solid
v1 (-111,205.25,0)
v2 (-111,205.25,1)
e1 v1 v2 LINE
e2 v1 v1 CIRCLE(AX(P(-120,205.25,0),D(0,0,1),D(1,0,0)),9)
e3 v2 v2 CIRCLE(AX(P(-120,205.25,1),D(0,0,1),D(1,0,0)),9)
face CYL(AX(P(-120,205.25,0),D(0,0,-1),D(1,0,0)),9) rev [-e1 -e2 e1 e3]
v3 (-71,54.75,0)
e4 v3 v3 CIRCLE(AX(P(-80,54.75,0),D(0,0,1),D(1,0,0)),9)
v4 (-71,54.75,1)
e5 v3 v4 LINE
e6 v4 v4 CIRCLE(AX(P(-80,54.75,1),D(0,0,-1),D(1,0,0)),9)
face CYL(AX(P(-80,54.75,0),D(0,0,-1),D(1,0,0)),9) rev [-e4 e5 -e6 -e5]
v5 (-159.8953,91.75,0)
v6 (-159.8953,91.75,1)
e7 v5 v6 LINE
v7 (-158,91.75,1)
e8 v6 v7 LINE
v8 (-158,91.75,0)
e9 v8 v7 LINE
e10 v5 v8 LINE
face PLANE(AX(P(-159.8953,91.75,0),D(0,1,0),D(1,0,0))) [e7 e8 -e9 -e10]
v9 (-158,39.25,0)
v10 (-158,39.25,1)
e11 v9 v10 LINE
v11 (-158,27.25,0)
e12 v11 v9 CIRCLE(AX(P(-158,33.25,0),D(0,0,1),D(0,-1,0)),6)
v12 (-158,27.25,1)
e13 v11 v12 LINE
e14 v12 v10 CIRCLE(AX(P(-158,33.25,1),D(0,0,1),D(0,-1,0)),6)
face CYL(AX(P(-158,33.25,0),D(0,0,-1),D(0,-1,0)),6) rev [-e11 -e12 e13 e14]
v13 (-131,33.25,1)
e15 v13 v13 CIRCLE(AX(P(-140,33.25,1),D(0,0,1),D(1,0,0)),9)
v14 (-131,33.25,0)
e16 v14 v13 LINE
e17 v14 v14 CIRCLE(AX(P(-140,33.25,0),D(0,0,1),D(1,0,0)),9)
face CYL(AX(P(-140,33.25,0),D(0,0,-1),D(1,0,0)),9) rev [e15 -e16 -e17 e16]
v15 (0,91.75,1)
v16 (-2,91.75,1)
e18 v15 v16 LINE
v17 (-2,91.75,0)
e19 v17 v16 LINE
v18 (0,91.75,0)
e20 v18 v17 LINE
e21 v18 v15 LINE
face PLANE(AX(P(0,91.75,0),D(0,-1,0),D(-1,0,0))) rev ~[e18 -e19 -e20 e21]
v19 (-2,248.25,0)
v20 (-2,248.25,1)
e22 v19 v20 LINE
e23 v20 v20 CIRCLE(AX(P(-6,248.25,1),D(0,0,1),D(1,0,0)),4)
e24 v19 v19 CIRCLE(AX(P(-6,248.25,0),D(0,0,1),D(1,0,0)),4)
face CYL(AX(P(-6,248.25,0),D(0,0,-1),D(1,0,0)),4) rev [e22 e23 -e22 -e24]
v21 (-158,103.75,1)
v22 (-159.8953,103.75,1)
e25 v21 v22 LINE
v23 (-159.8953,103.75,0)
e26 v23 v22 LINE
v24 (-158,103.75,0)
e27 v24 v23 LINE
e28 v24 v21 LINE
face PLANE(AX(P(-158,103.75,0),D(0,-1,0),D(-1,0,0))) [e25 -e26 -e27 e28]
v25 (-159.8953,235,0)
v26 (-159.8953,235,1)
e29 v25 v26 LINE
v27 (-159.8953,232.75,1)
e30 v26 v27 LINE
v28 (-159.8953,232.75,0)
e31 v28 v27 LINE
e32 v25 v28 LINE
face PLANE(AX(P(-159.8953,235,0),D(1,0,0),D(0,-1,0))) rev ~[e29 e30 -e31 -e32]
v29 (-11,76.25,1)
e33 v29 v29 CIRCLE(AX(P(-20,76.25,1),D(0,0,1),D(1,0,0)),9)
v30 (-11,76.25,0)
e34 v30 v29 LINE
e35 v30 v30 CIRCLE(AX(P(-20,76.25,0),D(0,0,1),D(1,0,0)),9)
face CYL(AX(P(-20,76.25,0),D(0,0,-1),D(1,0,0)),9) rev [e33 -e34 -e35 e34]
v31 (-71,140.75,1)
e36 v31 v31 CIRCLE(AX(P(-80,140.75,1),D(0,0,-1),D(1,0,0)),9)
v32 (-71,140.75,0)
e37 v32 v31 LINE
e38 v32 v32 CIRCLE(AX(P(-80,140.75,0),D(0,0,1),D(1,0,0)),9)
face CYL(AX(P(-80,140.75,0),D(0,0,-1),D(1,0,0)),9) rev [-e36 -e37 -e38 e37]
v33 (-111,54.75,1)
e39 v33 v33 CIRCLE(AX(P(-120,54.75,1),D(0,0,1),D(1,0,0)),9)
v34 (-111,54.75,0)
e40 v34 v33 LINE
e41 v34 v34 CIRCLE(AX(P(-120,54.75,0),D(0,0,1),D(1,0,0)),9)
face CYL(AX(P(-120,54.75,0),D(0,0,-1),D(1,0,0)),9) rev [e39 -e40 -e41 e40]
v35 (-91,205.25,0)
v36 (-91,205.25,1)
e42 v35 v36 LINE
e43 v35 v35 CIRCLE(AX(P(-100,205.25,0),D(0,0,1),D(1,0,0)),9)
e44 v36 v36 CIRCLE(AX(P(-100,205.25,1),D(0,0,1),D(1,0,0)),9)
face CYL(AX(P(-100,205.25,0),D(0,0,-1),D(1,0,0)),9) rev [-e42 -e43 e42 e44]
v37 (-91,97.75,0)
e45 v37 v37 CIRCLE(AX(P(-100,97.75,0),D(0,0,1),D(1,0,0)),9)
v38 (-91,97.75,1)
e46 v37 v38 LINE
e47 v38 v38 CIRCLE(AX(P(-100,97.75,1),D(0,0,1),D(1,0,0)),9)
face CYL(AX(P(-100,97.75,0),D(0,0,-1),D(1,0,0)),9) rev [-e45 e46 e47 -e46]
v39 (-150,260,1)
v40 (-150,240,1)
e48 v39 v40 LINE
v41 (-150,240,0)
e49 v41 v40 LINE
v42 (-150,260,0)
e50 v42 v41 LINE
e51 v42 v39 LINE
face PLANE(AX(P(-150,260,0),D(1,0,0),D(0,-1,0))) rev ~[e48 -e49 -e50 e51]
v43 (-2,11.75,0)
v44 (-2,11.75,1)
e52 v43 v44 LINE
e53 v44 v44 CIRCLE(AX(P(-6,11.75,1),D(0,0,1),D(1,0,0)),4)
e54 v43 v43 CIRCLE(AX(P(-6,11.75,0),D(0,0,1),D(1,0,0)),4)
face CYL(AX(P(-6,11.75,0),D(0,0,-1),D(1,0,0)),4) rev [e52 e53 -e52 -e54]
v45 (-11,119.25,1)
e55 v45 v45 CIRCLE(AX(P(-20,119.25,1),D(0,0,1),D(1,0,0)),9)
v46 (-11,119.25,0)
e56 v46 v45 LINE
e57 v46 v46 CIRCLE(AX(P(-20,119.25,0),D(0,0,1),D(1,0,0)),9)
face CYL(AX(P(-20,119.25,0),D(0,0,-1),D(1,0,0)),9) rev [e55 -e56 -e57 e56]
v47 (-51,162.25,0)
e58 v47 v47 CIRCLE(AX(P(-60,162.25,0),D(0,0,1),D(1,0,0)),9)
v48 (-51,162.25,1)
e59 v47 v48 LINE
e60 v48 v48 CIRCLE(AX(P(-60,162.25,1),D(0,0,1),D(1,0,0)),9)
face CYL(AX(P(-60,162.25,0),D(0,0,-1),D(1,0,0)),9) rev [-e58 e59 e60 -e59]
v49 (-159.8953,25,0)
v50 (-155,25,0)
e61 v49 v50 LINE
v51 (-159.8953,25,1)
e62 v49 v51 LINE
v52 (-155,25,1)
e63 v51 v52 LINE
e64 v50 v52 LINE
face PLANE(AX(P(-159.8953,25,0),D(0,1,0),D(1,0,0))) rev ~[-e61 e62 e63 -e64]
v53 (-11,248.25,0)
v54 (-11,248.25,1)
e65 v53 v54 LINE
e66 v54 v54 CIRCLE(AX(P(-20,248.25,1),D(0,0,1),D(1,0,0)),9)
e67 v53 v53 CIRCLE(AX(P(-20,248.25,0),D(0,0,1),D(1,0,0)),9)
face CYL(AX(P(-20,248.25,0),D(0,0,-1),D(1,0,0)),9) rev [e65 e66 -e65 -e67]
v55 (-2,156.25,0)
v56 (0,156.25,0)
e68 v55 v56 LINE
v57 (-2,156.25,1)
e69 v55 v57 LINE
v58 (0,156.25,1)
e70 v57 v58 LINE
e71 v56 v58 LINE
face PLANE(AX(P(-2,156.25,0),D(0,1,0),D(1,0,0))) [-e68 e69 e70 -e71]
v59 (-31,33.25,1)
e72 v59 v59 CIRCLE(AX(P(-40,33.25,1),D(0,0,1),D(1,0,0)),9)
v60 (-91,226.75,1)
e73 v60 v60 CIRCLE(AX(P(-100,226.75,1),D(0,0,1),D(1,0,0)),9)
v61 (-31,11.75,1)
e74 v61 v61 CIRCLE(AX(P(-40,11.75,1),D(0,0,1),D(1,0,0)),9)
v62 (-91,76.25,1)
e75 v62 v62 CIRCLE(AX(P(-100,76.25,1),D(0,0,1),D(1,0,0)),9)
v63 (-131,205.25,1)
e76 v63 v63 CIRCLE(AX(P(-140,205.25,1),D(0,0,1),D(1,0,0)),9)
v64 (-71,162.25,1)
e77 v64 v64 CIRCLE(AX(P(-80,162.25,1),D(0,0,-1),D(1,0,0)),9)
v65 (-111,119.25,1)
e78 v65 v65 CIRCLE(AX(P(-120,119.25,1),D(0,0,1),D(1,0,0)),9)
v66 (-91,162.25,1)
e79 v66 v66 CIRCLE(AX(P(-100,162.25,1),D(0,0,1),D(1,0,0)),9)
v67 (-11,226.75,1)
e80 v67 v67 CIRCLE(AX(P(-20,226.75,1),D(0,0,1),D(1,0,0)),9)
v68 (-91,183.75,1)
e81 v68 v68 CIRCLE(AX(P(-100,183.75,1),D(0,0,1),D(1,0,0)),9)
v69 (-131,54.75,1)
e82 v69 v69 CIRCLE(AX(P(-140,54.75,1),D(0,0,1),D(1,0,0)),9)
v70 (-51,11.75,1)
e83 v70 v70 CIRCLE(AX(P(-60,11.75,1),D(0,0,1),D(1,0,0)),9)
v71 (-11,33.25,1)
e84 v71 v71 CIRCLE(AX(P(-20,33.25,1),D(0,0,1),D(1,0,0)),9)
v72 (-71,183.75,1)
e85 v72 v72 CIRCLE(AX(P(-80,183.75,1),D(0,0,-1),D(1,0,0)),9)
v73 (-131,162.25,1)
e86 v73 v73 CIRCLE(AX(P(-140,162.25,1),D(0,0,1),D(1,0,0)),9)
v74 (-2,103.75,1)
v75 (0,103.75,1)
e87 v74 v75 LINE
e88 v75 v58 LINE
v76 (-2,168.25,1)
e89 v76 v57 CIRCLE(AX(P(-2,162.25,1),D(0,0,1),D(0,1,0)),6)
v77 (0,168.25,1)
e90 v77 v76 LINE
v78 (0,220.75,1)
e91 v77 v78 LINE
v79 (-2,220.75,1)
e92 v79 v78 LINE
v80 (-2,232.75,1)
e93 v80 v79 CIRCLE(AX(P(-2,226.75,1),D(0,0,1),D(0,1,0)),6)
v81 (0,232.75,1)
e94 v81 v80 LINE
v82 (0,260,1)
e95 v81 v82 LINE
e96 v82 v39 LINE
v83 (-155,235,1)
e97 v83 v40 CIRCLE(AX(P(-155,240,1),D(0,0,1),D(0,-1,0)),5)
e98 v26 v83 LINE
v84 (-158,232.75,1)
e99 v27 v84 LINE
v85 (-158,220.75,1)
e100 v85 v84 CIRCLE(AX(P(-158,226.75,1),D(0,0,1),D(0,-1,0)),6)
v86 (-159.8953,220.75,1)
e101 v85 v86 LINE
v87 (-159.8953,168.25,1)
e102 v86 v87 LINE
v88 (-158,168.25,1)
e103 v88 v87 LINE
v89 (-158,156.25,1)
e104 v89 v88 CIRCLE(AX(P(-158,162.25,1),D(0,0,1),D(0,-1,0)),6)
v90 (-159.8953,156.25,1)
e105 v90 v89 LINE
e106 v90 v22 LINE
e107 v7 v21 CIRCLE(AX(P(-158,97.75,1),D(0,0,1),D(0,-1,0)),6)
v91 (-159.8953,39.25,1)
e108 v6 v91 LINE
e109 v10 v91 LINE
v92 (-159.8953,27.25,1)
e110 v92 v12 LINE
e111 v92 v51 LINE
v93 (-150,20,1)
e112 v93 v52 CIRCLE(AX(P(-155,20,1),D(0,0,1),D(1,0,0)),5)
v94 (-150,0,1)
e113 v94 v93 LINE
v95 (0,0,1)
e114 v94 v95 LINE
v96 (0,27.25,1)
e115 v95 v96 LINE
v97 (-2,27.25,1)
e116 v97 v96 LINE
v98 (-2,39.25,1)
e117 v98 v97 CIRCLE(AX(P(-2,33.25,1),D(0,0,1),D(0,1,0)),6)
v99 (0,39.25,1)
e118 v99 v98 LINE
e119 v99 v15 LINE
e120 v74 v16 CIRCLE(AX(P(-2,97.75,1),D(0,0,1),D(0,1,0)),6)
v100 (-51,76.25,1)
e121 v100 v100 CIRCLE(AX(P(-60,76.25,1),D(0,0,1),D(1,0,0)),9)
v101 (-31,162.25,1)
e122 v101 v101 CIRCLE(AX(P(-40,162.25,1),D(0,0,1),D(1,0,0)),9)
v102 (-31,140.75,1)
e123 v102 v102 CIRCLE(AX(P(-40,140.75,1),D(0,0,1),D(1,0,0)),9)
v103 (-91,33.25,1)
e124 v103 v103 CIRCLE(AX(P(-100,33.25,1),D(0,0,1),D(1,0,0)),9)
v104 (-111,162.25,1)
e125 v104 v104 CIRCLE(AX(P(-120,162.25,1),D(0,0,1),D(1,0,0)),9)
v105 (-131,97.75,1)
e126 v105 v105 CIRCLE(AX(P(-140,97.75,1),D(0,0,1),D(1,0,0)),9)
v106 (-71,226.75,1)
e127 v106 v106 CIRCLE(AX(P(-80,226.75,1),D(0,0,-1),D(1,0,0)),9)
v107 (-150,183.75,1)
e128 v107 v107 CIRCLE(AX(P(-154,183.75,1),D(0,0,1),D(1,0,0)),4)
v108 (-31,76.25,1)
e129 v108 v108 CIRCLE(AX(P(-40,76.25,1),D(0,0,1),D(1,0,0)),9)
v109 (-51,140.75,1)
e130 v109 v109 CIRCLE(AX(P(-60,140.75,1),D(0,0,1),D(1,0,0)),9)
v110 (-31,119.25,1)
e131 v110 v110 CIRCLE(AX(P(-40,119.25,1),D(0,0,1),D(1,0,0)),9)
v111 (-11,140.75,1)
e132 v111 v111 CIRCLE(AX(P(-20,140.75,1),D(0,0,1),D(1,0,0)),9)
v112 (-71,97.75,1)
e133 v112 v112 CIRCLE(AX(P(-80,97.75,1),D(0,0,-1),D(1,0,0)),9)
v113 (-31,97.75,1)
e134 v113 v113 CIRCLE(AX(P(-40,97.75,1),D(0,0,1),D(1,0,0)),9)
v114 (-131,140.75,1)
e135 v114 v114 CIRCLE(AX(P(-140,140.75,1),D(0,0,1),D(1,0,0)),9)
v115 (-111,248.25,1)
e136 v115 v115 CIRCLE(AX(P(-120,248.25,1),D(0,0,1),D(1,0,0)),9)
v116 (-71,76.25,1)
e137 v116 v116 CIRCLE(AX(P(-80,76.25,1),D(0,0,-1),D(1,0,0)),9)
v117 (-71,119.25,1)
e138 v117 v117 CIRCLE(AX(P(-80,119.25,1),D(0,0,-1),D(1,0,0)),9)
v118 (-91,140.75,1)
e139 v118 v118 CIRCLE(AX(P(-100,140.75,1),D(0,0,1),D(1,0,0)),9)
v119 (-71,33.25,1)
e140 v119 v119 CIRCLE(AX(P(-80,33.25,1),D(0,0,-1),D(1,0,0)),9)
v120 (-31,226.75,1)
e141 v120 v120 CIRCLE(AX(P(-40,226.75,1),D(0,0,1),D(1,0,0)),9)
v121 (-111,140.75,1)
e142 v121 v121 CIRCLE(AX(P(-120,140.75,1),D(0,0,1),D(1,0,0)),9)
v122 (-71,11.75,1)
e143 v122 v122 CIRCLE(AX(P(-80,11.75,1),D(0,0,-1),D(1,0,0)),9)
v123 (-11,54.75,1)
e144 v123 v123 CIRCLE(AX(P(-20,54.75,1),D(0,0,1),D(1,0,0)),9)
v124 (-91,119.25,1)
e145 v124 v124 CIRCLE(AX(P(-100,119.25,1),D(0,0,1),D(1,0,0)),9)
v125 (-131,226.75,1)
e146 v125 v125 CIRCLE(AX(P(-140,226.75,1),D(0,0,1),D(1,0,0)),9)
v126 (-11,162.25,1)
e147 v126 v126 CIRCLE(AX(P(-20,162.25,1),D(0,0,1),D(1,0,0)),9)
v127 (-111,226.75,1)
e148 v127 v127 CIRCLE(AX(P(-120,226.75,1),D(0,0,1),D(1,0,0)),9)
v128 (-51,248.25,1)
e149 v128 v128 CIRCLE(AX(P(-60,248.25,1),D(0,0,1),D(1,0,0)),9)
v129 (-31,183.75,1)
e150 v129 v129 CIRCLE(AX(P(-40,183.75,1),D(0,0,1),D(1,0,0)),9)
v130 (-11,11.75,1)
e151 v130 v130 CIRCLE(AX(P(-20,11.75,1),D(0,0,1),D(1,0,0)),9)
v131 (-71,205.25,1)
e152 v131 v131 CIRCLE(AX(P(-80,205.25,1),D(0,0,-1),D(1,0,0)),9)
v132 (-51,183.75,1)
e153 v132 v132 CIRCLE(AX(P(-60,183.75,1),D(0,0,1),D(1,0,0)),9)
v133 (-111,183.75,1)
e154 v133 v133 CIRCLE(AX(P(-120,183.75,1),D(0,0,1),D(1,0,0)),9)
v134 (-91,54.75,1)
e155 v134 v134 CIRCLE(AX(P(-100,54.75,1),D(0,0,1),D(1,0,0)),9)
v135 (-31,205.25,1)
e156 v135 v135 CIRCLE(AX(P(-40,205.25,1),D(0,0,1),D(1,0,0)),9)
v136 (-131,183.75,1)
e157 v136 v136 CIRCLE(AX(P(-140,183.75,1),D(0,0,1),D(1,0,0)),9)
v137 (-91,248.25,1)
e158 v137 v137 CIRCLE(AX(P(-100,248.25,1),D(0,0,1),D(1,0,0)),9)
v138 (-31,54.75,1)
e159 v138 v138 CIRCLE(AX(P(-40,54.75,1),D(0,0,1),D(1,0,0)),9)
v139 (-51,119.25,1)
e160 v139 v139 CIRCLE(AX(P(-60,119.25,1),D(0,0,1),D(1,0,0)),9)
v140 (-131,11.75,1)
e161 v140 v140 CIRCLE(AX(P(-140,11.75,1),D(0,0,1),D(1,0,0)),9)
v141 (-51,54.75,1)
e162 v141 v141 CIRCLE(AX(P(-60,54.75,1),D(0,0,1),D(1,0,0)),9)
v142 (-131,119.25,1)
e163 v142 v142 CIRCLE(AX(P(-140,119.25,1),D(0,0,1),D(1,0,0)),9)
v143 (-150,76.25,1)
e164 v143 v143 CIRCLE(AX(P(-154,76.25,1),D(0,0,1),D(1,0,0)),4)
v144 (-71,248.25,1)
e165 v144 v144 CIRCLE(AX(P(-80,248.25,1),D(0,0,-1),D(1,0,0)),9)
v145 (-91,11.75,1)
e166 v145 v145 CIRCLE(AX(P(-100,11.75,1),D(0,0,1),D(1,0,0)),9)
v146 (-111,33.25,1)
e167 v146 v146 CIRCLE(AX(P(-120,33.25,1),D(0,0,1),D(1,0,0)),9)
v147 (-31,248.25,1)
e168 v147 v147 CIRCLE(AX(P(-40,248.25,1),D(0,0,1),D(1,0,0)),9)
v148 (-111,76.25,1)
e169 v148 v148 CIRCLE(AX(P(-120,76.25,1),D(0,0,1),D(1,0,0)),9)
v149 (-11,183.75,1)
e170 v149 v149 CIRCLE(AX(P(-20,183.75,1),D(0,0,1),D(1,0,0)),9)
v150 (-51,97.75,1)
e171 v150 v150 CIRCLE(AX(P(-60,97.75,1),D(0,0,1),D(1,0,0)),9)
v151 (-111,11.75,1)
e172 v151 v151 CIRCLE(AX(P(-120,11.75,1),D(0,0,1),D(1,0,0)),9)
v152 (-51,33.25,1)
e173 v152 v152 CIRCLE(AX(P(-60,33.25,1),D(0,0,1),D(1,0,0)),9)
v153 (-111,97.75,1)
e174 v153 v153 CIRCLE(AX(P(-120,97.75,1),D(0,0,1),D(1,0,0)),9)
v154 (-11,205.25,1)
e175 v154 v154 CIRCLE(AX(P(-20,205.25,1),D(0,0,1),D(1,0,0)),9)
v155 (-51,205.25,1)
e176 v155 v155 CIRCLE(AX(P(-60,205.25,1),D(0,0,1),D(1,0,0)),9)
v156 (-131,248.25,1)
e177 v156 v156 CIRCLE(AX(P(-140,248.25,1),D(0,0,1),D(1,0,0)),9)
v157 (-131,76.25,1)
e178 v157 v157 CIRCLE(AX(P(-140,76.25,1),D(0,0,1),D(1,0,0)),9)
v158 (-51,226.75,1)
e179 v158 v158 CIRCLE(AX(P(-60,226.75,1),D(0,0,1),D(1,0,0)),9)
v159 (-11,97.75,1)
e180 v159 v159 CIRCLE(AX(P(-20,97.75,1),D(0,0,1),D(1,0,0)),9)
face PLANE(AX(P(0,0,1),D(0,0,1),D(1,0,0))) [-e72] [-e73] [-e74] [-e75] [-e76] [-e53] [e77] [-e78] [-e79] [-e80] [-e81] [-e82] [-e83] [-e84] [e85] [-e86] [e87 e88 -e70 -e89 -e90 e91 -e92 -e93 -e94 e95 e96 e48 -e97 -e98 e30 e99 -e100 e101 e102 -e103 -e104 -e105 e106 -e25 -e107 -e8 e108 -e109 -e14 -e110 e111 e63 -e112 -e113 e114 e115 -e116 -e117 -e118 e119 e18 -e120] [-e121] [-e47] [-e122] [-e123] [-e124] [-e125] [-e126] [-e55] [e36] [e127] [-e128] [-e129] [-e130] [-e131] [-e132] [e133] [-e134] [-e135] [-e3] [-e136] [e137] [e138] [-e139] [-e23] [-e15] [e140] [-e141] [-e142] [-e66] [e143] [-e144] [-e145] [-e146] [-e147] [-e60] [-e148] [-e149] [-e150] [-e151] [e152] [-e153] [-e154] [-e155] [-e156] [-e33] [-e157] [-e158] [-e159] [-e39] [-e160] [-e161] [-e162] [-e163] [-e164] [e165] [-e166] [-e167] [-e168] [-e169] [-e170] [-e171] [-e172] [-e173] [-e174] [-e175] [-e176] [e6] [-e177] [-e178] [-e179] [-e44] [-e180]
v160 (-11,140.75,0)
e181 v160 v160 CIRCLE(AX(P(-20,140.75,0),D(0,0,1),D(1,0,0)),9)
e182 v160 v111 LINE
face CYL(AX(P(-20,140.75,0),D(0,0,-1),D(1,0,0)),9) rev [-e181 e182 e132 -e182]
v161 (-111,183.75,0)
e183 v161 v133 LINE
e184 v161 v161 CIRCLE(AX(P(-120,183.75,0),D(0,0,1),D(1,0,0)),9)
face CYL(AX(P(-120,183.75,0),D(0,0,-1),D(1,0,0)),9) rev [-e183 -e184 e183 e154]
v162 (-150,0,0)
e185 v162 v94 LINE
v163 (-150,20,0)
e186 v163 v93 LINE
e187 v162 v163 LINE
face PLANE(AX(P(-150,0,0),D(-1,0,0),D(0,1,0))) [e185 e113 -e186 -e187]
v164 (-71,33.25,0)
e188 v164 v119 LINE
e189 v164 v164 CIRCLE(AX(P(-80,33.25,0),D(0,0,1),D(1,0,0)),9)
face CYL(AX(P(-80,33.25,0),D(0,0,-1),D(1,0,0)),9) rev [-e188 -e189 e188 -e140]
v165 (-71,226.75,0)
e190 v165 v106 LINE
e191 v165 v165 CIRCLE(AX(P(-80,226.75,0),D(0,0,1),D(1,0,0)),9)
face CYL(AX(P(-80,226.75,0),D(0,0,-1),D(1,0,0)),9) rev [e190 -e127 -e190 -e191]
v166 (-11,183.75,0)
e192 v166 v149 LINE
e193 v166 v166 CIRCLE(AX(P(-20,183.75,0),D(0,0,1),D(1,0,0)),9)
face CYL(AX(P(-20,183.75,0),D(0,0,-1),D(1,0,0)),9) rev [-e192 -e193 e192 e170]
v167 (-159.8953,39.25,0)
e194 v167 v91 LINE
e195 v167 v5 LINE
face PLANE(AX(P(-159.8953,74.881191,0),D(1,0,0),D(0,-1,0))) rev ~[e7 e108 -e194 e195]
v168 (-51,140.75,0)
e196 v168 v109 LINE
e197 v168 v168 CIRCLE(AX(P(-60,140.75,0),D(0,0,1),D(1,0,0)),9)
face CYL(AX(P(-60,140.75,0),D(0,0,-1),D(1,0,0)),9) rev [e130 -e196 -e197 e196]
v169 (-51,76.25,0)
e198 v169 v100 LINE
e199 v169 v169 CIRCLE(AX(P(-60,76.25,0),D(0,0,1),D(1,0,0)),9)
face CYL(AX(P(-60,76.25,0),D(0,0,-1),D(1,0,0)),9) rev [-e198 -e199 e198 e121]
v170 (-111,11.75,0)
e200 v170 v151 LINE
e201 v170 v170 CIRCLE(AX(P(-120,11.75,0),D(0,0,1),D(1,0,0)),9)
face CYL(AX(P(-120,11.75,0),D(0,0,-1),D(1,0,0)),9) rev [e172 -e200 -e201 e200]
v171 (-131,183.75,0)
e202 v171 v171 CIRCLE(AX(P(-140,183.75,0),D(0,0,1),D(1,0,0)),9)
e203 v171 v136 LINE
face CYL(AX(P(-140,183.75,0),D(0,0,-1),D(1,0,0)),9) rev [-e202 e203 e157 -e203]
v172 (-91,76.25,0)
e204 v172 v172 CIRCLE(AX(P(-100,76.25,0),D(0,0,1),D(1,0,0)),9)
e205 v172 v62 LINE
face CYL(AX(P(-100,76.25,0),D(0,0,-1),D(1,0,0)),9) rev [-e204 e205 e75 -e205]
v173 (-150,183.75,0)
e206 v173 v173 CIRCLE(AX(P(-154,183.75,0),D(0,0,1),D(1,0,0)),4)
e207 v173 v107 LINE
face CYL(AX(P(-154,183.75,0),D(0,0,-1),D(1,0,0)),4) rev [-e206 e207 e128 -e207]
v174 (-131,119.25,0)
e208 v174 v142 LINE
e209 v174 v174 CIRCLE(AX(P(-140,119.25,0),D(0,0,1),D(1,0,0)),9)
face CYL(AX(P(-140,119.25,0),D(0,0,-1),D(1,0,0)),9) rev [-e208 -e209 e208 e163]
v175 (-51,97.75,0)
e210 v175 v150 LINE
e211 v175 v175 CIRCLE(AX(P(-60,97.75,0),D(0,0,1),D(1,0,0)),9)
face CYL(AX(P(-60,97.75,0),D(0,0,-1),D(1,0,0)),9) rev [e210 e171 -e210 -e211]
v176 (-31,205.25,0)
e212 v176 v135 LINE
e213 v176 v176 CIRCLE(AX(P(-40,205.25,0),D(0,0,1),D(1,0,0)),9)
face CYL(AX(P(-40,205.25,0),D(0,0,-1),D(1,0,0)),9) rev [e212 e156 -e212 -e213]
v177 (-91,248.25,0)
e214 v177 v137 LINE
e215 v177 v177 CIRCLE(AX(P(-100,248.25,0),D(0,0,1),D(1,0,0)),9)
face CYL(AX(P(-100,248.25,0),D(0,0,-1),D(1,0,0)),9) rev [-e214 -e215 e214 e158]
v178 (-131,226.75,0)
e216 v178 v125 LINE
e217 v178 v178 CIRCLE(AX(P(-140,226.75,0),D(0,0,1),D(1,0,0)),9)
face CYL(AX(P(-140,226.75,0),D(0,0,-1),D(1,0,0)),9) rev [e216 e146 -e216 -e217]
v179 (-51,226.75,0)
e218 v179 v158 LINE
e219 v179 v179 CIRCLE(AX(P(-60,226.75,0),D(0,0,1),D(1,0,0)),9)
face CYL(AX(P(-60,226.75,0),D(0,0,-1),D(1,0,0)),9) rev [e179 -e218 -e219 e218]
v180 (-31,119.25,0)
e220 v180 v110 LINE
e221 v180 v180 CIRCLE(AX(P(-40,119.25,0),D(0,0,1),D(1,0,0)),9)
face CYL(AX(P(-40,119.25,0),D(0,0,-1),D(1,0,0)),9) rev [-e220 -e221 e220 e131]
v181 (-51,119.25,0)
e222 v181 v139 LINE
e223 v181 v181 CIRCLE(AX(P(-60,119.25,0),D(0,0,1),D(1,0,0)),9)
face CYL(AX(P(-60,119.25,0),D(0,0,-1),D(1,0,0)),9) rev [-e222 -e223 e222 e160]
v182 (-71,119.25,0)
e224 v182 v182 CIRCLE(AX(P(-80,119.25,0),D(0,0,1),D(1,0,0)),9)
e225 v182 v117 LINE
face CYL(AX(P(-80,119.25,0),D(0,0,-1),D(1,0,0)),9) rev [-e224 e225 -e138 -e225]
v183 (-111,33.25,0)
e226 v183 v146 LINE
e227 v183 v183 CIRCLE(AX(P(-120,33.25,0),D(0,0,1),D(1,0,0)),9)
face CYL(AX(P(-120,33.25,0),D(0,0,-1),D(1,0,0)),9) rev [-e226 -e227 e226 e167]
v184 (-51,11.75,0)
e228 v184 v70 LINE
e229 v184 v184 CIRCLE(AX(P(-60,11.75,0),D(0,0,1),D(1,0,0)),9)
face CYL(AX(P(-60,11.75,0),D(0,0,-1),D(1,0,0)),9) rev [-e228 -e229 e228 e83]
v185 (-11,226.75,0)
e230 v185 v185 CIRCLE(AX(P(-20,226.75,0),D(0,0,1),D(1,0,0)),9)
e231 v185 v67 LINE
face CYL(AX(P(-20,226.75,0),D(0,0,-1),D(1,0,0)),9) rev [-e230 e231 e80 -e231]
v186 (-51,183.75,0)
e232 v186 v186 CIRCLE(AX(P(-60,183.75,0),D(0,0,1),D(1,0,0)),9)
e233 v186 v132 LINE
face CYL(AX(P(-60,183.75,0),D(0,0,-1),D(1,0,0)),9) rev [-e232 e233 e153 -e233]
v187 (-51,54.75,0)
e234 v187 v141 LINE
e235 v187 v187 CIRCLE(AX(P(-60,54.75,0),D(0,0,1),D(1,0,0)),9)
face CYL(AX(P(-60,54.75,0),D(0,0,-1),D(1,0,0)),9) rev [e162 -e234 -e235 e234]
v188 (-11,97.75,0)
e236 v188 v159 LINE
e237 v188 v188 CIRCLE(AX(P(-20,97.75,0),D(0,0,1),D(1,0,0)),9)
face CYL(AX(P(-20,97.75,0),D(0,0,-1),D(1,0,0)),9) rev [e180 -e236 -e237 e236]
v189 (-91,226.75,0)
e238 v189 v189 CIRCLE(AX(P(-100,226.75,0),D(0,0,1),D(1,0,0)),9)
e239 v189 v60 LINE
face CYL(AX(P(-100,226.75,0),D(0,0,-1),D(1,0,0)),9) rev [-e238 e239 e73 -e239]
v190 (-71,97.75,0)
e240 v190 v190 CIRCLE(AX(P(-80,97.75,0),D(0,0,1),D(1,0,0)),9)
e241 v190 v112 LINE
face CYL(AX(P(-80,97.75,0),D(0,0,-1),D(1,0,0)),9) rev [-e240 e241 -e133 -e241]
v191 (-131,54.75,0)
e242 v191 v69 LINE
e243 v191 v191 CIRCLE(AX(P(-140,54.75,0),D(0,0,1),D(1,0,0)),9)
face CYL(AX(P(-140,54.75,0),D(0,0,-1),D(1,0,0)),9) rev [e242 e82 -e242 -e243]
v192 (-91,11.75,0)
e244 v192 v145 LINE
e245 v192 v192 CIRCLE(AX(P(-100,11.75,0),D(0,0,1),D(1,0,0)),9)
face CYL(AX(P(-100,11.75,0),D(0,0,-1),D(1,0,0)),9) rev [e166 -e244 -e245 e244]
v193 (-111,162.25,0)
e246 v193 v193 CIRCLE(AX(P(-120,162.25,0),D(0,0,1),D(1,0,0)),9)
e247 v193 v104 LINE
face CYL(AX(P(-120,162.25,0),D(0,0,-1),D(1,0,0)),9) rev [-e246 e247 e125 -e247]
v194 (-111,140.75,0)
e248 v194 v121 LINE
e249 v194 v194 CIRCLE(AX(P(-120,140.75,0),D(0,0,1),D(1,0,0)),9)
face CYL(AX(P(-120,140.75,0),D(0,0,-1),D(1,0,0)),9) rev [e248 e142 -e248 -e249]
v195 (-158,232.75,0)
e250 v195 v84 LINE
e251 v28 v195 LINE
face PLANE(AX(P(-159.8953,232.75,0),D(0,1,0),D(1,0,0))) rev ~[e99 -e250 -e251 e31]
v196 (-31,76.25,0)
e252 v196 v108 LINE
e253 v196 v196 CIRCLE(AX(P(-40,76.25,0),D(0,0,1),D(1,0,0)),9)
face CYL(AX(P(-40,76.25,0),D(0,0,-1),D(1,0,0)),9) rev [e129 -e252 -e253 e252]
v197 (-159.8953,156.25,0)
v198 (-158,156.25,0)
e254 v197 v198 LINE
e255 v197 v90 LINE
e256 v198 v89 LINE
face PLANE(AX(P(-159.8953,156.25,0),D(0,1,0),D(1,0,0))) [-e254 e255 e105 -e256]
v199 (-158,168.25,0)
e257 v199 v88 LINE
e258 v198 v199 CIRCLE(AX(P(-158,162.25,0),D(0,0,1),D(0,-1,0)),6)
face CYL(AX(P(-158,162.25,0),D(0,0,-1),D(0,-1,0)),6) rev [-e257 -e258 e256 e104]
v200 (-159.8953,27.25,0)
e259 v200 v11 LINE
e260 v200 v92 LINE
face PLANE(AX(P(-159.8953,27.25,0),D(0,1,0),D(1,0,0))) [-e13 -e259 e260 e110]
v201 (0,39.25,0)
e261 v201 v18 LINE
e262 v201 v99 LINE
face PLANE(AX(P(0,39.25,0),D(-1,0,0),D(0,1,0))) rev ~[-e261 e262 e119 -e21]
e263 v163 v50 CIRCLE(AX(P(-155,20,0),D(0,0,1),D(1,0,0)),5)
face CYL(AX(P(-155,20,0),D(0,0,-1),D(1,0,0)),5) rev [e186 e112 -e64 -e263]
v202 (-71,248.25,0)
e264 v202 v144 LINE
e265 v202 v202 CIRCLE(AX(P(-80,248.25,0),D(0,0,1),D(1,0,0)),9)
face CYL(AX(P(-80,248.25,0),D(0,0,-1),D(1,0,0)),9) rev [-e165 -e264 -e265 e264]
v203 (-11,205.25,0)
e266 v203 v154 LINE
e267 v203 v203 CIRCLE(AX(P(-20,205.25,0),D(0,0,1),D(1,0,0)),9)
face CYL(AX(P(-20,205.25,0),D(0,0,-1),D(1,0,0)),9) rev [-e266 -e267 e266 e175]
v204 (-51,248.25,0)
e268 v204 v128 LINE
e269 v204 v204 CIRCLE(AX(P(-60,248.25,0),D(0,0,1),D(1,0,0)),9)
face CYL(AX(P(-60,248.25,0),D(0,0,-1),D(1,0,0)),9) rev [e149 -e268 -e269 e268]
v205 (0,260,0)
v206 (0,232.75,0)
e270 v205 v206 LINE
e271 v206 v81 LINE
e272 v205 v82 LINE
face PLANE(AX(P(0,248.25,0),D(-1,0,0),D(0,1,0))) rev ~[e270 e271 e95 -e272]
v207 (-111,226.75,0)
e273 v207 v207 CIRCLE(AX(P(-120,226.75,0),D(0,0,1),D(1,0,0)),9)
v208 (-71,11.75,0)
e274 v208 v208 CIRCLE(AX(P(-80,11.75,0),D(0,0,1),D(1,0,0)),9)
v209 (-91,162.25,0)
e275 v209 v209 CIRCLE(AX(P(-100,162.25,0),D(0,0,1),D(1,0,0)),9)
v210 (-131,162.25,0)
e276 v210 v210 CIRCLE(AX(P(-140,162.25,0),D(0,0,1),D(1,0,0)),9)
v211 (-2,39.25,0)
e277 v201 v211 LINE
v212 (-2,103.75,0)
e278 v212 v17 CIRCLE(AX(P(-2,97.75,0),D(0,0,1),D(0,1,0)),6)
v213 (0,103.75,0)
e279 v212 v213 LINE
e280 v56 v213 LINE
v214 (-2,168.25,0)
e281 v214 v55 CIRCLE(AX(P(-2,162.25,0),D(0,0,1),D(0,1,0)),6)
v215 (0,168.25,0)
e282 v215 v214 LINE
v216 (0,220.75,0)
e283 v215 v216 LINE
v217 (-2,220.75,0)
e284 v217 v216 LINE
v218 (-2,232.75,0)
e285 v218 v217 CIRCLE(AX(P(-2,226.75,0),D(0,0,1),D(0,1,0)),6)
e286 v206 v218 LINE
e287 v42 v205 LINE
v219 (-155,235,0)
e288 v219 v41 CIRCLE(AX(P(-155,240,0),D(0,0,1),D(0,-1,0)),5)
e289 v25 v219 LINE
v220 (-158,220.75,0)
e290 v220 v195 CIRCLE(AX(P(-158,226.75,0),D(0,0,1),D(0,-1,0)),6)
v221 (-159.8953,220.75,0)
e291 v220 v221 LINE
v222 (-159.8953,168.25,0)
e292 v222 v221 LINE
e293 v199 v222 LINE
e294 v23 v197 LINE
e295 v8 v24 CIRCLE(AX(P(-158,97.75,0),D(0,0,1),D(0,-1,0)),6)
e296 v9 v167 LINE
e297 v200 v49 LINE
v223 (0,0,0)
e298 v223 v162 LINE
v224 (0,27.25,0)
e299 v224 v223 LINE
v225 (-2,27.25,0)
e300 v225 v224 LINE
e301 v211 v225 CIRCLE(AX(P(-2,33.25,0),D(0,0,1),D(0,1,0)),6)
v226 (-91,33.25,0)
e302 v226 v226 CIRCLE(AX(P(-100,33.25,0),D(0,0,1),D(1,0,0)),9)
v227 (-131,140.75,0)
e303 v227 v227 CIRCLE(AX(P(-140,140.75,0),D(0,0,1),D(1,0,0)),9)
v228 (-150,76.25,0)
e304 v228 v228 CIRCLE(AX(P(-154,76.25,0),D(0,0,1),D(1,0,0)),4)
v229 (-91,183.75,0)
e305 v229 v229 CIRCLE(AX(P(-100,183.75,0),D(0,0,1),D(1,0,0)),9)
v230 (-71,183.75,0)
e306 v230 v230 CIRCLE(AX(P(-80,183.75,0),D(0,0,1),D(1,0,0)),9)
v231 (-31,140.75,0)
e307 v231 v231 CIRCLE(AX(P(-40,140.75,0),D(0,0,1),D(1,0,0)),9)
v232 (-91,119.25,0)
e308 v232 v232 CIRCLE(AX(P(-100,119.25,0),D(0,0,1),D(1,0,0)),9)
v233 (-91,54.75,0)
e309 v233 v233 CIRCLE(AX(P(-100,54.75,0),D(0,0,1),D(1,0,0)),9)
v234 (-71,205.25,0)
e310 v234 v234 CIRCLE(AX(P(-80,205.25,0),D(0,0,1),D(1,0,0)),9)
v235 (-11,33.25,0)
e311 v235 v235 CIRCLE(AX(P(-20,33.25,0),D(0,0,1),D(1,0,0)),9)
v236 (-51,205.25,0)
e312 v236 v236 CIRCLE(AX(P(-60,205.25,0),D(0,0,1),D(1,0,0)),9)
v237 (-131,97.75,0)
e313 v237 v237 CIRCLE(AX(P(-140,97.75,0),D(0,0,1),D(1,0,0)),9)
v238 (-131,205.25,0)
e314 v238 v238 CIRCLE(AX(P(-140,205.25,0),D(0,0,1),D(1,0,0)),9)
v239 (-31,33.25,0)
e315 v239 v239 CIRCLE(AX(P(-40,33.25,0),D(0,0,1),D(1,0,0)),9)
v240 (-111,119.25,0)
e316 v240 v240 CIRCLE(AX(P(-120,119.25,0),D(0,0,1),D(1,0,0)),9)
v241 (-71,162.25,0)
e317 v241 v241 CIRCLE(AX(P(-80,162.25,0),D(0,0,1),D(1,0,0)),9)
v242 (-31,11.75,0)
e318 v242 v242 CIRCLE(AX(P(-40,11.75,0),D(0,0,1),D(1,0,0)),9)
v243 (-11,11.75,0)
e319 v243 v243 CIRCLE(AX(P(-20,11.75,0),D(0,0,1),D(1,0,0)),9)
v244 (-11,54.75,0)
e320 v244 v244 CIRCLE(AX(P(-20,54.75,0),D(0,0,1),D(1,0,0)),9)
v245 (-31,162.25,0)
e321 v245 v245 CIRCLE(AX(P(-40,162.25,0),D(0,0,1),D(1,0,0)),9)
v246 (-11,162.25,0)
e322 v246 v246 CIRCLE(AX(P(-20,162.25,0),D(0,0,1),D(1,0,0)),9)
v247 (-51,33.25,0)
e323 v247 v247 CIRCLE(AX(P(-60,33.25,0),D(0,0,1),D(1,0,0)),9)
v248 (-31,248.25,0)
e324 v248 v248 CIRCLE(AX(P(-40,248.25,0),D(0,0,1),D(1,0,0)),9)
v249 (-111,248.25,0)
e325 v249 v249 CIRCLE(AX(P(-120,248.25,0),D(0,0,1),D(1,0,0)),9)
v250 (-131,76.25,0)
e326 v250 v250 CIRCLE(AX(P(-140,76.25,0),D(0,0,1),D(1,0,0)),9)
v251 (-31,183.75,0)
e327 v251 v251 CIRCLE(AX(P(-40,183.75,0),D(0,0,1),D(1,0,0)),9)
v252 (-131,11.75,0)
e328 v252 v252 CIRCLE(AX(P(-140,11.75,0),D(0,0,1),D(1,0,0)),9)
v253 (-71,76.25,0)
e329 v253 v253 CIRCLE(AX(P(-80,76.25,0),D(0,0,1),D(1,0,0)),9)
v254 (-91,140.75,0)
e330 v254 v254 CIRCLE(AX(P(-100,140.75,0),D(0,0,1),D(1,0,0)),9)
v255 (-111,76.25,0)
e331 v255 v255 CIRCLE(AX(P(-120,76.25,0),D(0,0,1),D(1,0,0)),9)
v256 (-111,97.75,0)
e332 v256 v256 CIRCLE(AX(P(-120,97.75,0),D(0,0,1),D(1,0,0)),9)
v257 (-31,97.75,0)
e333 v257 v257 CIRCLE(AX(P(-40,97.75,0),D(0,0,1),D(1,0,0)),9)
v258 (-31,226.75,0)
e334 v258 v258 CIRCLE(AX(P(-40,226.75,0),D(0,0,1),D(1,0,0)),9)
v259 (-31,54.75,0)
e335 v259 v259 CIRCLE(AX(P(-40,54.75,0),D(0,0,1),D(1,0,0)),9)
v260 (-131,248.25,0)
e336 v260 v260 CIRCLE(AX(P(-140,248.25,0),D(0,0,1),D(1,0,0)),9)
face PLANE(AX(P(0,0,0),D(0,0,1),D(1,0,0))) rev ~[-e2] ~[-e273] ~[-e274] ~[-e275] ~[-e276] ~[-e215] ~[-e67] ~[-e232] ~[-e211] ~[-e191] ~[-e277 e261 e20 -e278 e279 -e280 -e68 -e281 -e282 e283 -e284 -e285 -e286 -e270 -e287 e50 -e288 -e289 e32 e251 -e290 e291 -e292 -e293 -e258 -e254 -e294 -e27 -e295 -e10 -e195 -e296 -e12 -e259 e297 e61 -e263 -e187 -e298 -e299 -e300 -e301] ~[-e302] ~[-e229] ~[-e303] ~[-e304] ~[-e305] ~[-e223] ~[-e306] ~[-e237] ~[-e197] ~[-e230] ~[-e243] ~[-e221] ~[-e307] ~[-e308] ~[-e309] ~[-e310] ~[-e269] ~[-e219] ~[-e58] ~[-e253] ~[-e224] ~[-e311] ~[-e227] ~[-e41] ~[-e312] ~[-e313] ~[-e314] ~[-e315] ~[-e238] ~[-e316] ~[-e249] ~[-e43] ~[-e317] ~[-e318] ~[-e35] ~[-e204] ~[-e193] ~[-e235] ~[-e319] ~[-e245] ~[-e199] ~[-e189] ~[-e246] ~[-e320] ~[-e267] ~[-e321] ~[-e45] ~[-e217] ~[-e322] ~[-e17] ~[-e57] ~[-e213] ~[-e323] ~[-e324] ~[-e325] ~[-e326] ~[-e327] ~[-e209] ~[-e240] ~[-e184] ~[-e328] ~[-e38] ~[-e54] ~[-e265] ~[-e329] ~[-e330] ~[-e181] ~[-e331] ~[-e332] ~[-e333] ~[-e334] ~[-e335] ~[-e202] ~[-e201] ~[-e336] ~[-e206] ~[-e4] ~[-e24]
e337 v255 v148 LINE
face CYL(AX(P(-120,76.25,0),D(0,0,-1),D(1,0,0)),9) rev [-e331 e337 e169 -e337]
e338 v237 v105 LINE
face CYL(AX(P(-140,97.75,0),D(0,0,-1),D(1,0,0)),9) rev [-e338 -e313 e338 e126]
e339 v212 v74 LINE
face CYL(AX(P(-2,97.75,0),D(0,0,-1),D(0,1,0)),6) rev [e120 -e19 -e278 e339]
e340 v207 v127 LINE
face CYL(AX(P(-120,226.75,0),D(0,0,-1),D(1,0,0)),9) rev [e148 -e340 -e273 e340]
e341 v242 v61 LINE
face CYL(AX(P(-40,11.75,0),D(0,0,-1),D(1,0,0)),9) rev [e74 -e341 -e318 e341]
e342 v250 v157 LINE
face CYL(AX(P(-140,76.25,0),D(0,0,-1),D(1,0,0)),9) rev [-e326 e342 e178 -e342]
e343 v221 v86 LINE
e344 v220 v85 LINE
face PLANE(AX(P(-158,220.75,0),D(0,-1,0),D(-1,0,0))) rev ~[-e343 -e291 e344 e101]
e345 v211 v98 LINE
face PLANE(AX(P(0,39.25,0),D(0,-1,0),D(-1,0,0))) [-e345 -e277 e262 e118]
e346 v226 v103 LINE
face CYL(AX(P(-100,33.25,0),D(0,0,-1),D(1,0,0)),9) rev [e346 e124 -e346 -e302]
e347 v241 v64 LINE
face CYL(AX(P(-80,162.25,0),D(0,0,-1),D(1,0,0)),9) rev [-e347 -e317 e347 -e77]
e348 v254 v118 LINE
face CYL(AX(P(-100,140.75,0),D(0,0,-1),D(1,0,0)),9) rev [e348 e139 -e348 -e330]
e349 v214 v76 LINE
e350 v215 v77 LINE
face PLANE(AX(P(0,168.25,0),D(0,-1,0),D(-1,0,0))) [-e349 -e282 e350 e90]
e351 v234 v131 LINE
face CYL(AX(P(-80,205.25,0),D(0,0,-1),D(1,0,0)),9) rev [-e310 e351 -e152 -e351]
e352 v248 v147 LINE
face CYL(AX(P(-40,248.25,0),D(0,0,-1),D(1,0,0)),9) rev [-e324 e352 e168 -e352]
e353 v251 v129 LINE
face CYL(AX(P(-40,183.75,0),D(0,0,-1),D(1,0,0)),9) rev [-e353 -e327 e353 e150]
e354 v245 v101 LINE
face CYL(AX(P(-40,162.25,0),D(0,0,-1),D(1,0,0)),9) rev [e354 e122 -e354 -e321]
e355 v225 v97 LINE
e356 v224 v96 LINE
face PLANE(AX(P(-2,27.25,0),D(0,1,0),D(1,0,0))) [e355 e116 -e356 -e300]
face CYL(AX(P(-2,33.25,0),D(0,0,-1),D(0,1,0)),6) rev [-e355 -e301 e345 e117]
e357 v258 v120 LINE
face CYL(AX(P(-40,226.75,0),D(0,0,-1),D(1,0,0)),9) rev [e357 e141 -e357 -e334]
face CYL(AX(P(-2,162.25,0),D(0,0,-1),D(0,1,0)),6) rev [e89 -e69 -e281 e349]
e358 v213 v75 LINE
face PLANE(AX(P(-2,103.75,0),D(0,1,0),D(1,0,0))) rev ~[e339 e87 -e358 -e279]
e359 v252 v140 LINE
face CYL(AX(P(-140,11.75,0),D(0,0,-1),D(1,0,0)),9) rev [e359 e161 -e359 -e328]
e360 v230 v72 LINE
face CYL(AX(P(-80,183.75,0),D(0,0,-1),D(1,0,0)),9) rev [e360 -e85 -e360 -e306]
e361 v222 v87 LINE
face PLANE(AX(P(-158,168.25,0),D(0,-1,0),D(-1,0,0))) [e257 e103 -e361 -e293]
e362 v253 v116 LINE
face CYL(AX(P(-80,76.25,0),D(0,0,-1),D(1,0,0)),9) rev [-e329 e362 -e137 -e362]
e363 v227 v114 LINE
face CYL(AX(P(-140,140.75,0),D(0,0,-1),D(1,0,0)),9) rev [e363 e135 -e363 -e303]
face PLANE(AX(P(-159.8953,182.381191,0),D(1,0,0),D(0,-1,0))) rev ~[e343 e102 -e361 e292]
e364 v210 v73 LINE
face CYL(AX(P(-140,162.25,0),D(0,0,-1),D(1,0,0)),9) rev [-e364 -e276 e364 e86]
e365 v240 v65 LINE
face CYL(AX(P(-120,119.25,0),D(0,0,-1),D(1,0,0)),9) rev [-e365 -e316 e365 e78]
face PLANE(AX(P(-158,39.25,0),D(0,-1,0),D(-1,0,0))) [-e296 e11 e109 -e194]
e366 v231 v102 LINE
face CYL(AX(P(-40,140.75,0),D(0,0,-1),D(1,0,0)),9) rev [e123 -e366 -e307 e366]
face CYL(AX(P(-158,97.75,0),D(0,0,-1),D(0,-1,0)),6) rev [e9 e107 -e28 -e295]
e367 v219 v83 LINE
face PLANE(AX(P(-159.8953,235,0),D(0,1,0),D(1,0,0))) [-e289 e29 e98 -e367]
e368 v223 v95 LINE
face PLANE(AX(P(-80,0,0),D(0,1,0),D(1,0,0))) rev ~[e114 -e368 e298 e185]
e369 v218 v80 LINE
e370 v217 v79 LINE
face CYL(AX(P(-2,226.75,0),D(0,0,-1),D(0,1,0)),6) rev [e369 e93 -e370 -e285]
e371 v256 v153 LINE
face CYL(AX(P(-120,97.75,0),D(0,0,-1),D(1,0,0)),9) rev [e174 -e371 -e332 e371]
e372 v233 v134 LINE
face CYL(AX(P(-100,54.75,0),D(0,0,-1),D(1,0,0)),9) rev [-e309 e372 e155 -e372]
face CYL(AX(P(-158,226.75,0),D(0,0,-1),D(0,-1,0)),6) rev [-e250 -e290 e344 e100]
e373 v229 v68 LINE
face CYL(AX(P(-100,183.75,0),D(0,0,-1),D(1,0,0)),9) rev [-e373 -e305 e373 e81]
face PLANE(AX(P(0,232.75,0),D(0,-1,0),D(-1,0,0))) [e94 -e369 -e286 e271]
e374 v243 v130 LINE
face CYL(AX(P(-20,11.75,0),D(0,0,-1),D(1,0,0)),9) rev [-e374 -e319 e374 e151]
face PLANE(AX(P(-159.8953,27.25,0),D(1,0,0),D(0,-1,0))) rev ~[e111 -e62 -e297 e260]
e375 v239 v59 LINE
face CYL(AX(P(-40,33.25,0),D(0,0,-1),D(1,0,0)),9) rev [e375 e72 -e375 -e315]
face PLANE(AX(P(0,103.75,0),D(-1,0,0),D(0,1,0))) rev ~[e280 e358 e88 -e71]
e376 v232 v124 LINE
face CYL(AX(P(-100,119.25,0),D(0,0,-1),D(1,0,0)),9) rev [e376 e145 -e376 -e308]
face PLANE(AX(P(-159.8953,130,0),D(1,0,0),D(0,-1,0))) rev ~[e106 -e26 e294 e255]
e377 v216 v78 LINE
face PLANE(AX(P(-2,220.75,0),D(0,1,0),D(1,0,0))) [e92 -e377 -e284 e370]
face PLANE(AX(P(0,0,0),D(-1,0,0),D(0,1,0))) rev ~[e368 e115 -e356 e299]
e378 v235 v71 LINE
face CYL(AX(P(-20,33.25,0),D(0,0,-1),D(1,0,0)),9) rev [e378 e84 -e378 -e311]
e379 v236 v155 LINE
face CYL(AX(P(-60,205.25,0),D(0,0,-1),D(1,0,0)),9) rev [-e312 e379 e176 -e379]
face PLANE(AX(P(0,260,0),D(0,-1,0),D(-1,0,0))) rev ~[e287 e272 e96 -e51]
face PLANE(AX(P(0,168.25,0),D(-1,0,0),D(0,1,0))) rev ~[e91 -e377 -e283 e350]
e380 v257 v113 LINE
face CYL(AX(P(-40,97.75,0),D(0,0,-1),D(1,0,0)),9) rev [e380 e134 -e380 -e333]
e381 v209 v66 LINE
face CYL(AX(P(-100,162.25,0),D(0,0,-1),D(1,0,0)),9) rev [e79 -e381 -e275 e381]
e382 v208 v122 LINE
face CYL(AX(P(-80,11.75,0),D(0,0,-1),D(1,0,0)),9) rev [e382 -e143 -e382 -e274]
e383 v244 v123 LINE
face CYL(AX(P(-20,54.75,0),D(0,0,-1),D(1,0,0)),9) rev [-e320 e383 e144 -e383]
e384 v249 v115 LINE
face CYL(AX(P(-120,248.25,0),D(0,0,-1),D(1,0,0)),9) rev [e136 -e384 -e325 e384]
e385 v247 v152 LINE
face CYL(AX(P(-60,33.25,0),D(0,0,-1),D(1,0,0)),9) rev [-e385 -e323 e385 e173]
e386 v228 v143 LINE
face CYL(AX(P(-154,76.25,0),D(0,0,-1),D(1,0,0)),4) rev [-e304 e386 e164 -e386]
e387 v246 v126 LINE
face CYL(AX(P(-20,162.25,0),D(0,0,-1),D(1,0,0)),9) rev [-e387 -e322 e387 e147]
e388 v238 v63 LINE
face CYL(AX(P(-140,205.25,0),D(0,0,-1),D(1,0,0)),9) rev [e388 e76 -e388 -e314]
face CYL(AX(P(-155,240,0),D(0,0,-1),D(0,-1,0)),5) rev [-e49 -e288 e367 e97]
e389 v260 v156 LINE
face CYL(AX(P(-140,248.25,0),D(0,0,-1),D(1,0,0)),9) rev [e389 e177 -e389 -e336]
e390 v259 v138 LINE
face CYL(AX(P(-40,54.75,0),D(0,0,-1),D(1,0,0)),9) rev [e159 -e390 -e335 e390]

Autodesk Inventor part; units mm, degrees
ref_plane "YZ Plane" through (0, 0, 0) normal (1, 0, 0) x (0, 1, 0)
ref_plane "XZ Plane" through (0, 0, 0) normal (0, 1, 0) x (-1, 0, 0)
ref_plane "XY Plane" through (0, 0, 0) normal (0, 0, 1) x (1, 0, 0)
sketch "Skizze3" plane through (0, 0, 0) normal (0, 0, 1) x (1, 0, 0)
  line L0 (0, 0) -> (0, 260)
  arc A0 (-2, 168.25) -> (-2, 156.25) centre (-2, 162.25) ccw
  line L1 (-2, 156.25) -> (0, 156.25)
  line L2 (0, 0) -> (0, 260)
  arc A1 (-2, 232.75) -> (-2, 220.75) centre (-2, 226.75) ccw
  line L3 (-2, 220.75) -> (0, 220.75)
  line L4 (0, 130) -> (-160, 130)
  line L5 (0, 260) -> (-160, 260)
  line L6 (-80, 260) -> (-80, 0)
  line L7 (-159.8953, 260) -> (-159.8953, 0)
  line L8 (-160, 0) -> (0, 0)
  line L9 (0, 0) -> (-160, 0)
  line L10 (-16.9586, 239.25) -> (-9, 239.25)
  arc A2 (-9, 239.25) -> (-9, 257.25) centre (-9, 248.25) ccw
  line L11 (-9, 257.25) -> (-16.9586, 257.25)
  arc A3 (-16.9586, 239.25) -> (-16.9586, 257.25) centre (-20, 248.25) ccw
  line L12 (-143.0414, 85.25) -> (-151, 85.25)
  arc A4 (-151, 85.25) -> (-151, 67.25) centre (-151, 76.25) ccw
  line L13 (-151, 67.25) -> (-143.0414, 67.25)
  arc A5 (-143.0414, 85.25) -> (-143.0414, 67.25) centre (-140, 76.25) ccw
  line L14 (-151, 174.75) -> (-143.0414, 174.75)
  arc A6 (-143.0414, 192.75) -> (-143.0414, 174.75) centre (-140, 183.75) ccw
  line L15 (-143.0414, 192.75) -> (-151, 192.75)
  arc A7 (-151, 192.75) -> (-151, 174.75) centre (-151, 183.75) ccw
  line L16 (-9, 20.75) -> (-16.9586, 20.75)
  arc A8 (-16.9586, 2.75) -> (-16.9586, 20.75) centre (-20, 11.75) ccw
  line L17 (-16.9586, 2.75) -> (-9, 2.75)
  arc A9 (-9, 2.75) -> (-9, 20.75) centre (-9, 11.75) ccw
  line L18 (-150, 0) -> (-150, 20)
  line L19 (-160, 25) -> (-155, 25)
  arc A10 (-150, 20) -> (-155, 25) centre (-155, 20) ccw
  line L20 (-150, 260) -> (-150, 240)
  line L21 (-160, 235) -> (-155, 235)
  arc A11 (-155, 235) -> (-150, 240) centre (-155, 240) ccw
  line L22 (0, 232.75) -> (-2, 232.75)
  arc A12 (-2, 232.75) -> (-2, 220.75) centre (-2, 226.75) ccw
  line L23 (-2, 220.75) -> (0, 220.75)
  line L24 (0, 168.25) -> (-2, 168.25)
  arc A13 (-2, 168.25) -> (-2, 156.25) centre (-2, 162.25) ccw
  line L25 (-2, 156.25) -> (0, 156.25)
  line L26 (-160, 156.25) -> (-158, 156.25)
  arc A14 (-158, 156.25) -> (-158, 168.25) centre (-158, 162.25) ccw
  line L27 (-158, 168.25) -> (-160, 168.25)
  line L28 (0, 39.25) -> (-2, 39.25)
  arc A15 (-2, 39.25) -> (-2, 27.25) centre (-2, 33.25) ccw
  line L29 (-2, 27.25) -> (0, 27.25)
  line L30 (0, 91.75) -> (-2, 91.75)
  arc A16 (-2, 103.75) -> (-2, 91.75) centre (-2, 97.75) ccw
  line L31 (-2, 103.75) -> (0, 103.75)
  line L32 (-160, 91.75) -> (-158, 91.75)
  arc A17 (-158, 91.75) -> (-158, 103.75) centre (-158, 97.75) ccw
  line L33 (-158, 103.75) -> (-160, 103.75)
  line L34 (-160, 27.25) -> (-158, 27.25)
  arc A18 (-158, 27.25) -> (-158, 39.25) centre (-158, 33.25) ccw
  line L35 (-158, 39.25) -> (-160, 39.25)
  line L36 (-160, 232.75) -> (-158, 232.75)
  arc A19 (-158, 220.75) -> (-158, 232.75) centre (-158, 226.75) ccw
  line L37 (-158, 220.75) -> (-160, 220.75)
  circle A20 centre (-20, 226.75) radius 9
  circle A21 centre (-20, 248.25) radius 9
  circle A22 centre (-20, 205.25) radius 9
  circle A23 centre (-20, 162.25) radius 9
  circle A24 centre (-20, 119.25) radius 9
  circle A25 centre (-20, 76.25) radius 9
  circle A26 centre (-20, 33.25) radius 9
  circle A27 centre (-20, 11.75) radius 9
  circle A28 centre (-20, 54.75) radius 9
  circle A29 centre (-20, 97.75) radius 9
  circle A30 centre (-20, 140.75) radius 9
  circle A31 centre (-20, 183.75) radius 9
  circle A32 centre (-40, 226.75) radius 9
  circle A33 centre (-40, 248.25) radius 9
  circle A34 centre (-40, 205.25) radius 9
  circle A35 centre (-40, 162.25) radius 9
  circle A36 centre (-40, 119.25) radius 9
  circle A37 centre (-40, 76.25) radius 9
  circle A38 centre (-40, 33.25) radius 9
  circle A39 centre (-40, 11.75) radius 9
  circle A40 centre (-40, 54.75) radius 9
  circle A41 centre (-40, 97.75) radius 9
  circle A42 centre (-40, 140.75) radius 9
  circle A43 centre (-40, 183.75) radius 9
  circle A44 centre (-60, 226.75) radius 9
  circle A45 centre (-60, 248.25) radius 9
  circle A46 centre (-60, 205.25) radius 9
  circle A47 centre (-60, 162.25) radius 9
  circle A48 centre (-60, 119.25) radius 9
  circle A49 centre (-60, 76.25) radius 9
  circle A50 centre (-60, 33.25) radius 9
  circle A51 centre (-60, 11.75) radius 9
  circle A52 centre (-60, 54.75) radius 9
  circle A53 centre (-60, 97.75) radius 9
  circle A54 centre (-60, 140.75) radius 9
  circle A55 centre (-60, 183.75) radius 9
  circle A56 centre (-80, 226.75) radius 9
  circle A57 centre (-80, 248.25) radius 9
  circle A58 centre (-80, 205.25) radius 9
  circle A59 centre (-80, 162.25) radius 9
  circle A60 centre (-80, 119.25) radius 9
  circle A61 centre (-80, 76.25) radius 9
  circle A62 centre (-80, 33.25) radius 9
  circle A63 centre (-80, 11.75) radius 9
  circle A64 centre (-80, 54.75) radius 9
  circle A65 centre (-80, 97.75) radius 9
  circle A66 centre (-80, 140.75) radius 9
  circle A67 centre (-80, 183.75) radius 9
  circle A68 centre (-100, 226.75) radius 9
  circle A69 centre (-100, 248.25) radius 9
  circle A70 centre (-100, 205.25) radius 9
  circle A71 centre (-100, 162.25) radius 9
  circle A72 centre (-100, 119.25) radius 9
  circle A73 centre (-100, 76.25) radius 9
  circle A74 centre (-100, 33.25) radius 9
  circle A75 centre (-100, 11.75) radius 9
  circle A76 centre (-100, 54.75) radius 9
  circle A77 centre (-100, 97.75) radius 9
  circle A78 centre (-100, 140.75) radius 9
  circle A79 centre (-100, 183.75) radius 9
  circle A80 centre (-120, 226.75) radius 9
  circle A81 centre (-120, 248.25) radius 9
  circle A82 centre (-120, 205.25) radius 9
  circle A83 centre (-120, 162.25) radius 9
  circle A84 centre (-120, 119.25) radius 9
  circle A85 centre (-120, 76.25) radius 9
  circle A86 centre (-120, 33.25) radius 9
  circle A87 centre (-120, 11.75) radius 9
  circle A88 centre (-120, 54.75) radius 9
  circle A89 centre (-120, 97.75) radius 9
  circle A90 centre (-120, 140.75) radius 9
  circle A91 centre (-120, 183.75) radius 9
  circle A92 centre (-140, 226.75) radius 9
  circle A93 centre (-140, 183.75) radius 9
  circle A94 centre (-140, 140.75) radius 9
  circle A95 centre (-140, 97.75) radius 9
  circle A96 centre (-140, 54.75) radius 9
  circle A97 centre (-140, 11.75) radius 9
  circle A98 centre (-140, 33.25) radius 9
  circle A99 centre (-140, 76.25) radius 9
  circle A100 centre (-140, 119.25) radius 9
  circle A101 centre (-140, 162.25) radius 9
  circle A102 centre (-140, 205.25) radius 9
  circle A103 centre (-140, 248.25) radius 9
  line L38 (0, 0) -> (0, 260)
  line L39 (-160, 0) -> (0, 0)
  line L40 (-159.8953, 260) -> (-159.8953, 0)
  line L41 (-160, 0) -> (0, 0)
  line L42 (0, 260) -> (-160, 260)
  line L43 (0, 130) -> (-160, 130)
  circle A104 centre (-20, 11.75) radius 9
  circle A105 centre (-154, 76.25) radius 4
  circle A106 centre (-154, 183.75) radius 4
  line L44 (-80, 260) -> (-80, 0)
  circle A107 centre (-6, 11.75) radius 4
  circle A108 centre (-6, 248.25) radius 4
  circle A109 centre (-20, 76.25) radius 9
  circle A110 centre (-20, 76.25) radius 9
  line L45 (-156.8953, 69) -> (-149.8953, 69)
  line L46 (-149.8953, 69) -> (-149.8953, 62)
  line L47 (-149.8953, 62) -> (-156.8953, 62)
  line L48 (-156.8953, 62) -> (-156.8953, 69)
  line L49 (-156.8953, 191) -> (-149.8953, 191)
  line L50 (-149.8953, 191) -> (-149.8953, 198)
  line L51 (-149.8953, 198) -> (-156.8953, 198)
  line L52 (-156.8953, 198) -> (-156.8953, 191)
  line L53 (-3.1047, 69) -> (-10.1047, 69)
  line L54 (-10.1047, 69) -> (-10.1047, 62)
  line L55 (-10.1047, 62) -> (-3.1047, 62)
  line L56 (-3.1047, 62) -> (-3.1047, 69)
  line L57 (-10.1047, 198) -> (-3.1047, 198)
  line L58 (-3.1047, 198) -> (-3.1047, 191)
  line L59 (-10.1047, 191) -> (-10.1047, 198)
  line L60 (-3.1047, 191) -> (-10.1047, 191)
  point P0 (-155, 235)
  point P1 (-158, 220.75)
  point P2 (-158, 168.25)
  point P3 (-158, 156.25)
  point P4 (-158, 103.75)
  point P5 (-158, 91.75)
  point P6 (-158, 39.25)
  point P7 (-158, 27.25)
  point P8 (-150, 0)
  point P9 (0, 27.25)
  point P10 (-2, 27.25)
  point P11 (-2, 39.25)
  point P12 (0, 39.25)
  point P13 (-2, 91.75)
  point P14 (-2, 103.75)
  point P15 (0, 103.75)
  point P16 (-2, 156.25)
  point P17 (-2, 168.25)
  point P18 (-2, 220.75)
  point P19 (-2, 232.75)
  point P20 (-159.8953, 235)
  point P21 (-159.8953, 232.75)
  point P22 (-159.8953, 220.75)
  point P23 (-159.8953, 168.25)
  point P24 (-159.8953, 156.25)
  point P25 (-159.8953, 103.75)
  point P26 (-159.8953, 91.75)
  point P27 (-159.8953, 39.25)
  point P28 (-159.8953, 27.25)
  point P29 (-159.8953, 25)
  point P30 (-149.8953, 65.5)
  dimension "d49" = 7
  dimension "d50" = 3
  dimension "d51" = 10.75
extrude "Extrusion3" add sketch "Skizze3" along normal blind 1 contours A9 L17 A8 L16 | L0 L8 L6 A63 A62 A64 A61 A65 A60 L4 L31 A16 L30 L28 A15 L29 | L8 L18 A10 L19 L7 L34 A18 L35 A4 L45 L48 L47 L46 L13 A5 L12 L32 A17 L33 L4 L6 A60 A65 A61 A64 A62 A63 | A2 L10 A3 L11 | L4 L6 A66 A59 A67 A58 A56 A57 L5 L0 L22 A1 L3 L24 A0 L1 | L4 L7 L26 A14 L27 A7 L14 A6 L15 L50 L51 L52 L49 L37 A19 L36 L21 A11 L20 L5 L6 A57 A56 A58 A67 A59 A66 | L7 A7 L49 L50 L15 A6 L14 | A4 L12 A5 L13 L46 L45 L7 | L45 L46 L13 A4 | A4 L13 L46 L47 L48 L45 | L49 L52 L51 L50 L15 A7 | A7 L15 L50 L49 | L56 L55 L54 L53 | L57 L58 L60 L59
properties part number "PCB" material "PC/ABS-Kunststoff"
